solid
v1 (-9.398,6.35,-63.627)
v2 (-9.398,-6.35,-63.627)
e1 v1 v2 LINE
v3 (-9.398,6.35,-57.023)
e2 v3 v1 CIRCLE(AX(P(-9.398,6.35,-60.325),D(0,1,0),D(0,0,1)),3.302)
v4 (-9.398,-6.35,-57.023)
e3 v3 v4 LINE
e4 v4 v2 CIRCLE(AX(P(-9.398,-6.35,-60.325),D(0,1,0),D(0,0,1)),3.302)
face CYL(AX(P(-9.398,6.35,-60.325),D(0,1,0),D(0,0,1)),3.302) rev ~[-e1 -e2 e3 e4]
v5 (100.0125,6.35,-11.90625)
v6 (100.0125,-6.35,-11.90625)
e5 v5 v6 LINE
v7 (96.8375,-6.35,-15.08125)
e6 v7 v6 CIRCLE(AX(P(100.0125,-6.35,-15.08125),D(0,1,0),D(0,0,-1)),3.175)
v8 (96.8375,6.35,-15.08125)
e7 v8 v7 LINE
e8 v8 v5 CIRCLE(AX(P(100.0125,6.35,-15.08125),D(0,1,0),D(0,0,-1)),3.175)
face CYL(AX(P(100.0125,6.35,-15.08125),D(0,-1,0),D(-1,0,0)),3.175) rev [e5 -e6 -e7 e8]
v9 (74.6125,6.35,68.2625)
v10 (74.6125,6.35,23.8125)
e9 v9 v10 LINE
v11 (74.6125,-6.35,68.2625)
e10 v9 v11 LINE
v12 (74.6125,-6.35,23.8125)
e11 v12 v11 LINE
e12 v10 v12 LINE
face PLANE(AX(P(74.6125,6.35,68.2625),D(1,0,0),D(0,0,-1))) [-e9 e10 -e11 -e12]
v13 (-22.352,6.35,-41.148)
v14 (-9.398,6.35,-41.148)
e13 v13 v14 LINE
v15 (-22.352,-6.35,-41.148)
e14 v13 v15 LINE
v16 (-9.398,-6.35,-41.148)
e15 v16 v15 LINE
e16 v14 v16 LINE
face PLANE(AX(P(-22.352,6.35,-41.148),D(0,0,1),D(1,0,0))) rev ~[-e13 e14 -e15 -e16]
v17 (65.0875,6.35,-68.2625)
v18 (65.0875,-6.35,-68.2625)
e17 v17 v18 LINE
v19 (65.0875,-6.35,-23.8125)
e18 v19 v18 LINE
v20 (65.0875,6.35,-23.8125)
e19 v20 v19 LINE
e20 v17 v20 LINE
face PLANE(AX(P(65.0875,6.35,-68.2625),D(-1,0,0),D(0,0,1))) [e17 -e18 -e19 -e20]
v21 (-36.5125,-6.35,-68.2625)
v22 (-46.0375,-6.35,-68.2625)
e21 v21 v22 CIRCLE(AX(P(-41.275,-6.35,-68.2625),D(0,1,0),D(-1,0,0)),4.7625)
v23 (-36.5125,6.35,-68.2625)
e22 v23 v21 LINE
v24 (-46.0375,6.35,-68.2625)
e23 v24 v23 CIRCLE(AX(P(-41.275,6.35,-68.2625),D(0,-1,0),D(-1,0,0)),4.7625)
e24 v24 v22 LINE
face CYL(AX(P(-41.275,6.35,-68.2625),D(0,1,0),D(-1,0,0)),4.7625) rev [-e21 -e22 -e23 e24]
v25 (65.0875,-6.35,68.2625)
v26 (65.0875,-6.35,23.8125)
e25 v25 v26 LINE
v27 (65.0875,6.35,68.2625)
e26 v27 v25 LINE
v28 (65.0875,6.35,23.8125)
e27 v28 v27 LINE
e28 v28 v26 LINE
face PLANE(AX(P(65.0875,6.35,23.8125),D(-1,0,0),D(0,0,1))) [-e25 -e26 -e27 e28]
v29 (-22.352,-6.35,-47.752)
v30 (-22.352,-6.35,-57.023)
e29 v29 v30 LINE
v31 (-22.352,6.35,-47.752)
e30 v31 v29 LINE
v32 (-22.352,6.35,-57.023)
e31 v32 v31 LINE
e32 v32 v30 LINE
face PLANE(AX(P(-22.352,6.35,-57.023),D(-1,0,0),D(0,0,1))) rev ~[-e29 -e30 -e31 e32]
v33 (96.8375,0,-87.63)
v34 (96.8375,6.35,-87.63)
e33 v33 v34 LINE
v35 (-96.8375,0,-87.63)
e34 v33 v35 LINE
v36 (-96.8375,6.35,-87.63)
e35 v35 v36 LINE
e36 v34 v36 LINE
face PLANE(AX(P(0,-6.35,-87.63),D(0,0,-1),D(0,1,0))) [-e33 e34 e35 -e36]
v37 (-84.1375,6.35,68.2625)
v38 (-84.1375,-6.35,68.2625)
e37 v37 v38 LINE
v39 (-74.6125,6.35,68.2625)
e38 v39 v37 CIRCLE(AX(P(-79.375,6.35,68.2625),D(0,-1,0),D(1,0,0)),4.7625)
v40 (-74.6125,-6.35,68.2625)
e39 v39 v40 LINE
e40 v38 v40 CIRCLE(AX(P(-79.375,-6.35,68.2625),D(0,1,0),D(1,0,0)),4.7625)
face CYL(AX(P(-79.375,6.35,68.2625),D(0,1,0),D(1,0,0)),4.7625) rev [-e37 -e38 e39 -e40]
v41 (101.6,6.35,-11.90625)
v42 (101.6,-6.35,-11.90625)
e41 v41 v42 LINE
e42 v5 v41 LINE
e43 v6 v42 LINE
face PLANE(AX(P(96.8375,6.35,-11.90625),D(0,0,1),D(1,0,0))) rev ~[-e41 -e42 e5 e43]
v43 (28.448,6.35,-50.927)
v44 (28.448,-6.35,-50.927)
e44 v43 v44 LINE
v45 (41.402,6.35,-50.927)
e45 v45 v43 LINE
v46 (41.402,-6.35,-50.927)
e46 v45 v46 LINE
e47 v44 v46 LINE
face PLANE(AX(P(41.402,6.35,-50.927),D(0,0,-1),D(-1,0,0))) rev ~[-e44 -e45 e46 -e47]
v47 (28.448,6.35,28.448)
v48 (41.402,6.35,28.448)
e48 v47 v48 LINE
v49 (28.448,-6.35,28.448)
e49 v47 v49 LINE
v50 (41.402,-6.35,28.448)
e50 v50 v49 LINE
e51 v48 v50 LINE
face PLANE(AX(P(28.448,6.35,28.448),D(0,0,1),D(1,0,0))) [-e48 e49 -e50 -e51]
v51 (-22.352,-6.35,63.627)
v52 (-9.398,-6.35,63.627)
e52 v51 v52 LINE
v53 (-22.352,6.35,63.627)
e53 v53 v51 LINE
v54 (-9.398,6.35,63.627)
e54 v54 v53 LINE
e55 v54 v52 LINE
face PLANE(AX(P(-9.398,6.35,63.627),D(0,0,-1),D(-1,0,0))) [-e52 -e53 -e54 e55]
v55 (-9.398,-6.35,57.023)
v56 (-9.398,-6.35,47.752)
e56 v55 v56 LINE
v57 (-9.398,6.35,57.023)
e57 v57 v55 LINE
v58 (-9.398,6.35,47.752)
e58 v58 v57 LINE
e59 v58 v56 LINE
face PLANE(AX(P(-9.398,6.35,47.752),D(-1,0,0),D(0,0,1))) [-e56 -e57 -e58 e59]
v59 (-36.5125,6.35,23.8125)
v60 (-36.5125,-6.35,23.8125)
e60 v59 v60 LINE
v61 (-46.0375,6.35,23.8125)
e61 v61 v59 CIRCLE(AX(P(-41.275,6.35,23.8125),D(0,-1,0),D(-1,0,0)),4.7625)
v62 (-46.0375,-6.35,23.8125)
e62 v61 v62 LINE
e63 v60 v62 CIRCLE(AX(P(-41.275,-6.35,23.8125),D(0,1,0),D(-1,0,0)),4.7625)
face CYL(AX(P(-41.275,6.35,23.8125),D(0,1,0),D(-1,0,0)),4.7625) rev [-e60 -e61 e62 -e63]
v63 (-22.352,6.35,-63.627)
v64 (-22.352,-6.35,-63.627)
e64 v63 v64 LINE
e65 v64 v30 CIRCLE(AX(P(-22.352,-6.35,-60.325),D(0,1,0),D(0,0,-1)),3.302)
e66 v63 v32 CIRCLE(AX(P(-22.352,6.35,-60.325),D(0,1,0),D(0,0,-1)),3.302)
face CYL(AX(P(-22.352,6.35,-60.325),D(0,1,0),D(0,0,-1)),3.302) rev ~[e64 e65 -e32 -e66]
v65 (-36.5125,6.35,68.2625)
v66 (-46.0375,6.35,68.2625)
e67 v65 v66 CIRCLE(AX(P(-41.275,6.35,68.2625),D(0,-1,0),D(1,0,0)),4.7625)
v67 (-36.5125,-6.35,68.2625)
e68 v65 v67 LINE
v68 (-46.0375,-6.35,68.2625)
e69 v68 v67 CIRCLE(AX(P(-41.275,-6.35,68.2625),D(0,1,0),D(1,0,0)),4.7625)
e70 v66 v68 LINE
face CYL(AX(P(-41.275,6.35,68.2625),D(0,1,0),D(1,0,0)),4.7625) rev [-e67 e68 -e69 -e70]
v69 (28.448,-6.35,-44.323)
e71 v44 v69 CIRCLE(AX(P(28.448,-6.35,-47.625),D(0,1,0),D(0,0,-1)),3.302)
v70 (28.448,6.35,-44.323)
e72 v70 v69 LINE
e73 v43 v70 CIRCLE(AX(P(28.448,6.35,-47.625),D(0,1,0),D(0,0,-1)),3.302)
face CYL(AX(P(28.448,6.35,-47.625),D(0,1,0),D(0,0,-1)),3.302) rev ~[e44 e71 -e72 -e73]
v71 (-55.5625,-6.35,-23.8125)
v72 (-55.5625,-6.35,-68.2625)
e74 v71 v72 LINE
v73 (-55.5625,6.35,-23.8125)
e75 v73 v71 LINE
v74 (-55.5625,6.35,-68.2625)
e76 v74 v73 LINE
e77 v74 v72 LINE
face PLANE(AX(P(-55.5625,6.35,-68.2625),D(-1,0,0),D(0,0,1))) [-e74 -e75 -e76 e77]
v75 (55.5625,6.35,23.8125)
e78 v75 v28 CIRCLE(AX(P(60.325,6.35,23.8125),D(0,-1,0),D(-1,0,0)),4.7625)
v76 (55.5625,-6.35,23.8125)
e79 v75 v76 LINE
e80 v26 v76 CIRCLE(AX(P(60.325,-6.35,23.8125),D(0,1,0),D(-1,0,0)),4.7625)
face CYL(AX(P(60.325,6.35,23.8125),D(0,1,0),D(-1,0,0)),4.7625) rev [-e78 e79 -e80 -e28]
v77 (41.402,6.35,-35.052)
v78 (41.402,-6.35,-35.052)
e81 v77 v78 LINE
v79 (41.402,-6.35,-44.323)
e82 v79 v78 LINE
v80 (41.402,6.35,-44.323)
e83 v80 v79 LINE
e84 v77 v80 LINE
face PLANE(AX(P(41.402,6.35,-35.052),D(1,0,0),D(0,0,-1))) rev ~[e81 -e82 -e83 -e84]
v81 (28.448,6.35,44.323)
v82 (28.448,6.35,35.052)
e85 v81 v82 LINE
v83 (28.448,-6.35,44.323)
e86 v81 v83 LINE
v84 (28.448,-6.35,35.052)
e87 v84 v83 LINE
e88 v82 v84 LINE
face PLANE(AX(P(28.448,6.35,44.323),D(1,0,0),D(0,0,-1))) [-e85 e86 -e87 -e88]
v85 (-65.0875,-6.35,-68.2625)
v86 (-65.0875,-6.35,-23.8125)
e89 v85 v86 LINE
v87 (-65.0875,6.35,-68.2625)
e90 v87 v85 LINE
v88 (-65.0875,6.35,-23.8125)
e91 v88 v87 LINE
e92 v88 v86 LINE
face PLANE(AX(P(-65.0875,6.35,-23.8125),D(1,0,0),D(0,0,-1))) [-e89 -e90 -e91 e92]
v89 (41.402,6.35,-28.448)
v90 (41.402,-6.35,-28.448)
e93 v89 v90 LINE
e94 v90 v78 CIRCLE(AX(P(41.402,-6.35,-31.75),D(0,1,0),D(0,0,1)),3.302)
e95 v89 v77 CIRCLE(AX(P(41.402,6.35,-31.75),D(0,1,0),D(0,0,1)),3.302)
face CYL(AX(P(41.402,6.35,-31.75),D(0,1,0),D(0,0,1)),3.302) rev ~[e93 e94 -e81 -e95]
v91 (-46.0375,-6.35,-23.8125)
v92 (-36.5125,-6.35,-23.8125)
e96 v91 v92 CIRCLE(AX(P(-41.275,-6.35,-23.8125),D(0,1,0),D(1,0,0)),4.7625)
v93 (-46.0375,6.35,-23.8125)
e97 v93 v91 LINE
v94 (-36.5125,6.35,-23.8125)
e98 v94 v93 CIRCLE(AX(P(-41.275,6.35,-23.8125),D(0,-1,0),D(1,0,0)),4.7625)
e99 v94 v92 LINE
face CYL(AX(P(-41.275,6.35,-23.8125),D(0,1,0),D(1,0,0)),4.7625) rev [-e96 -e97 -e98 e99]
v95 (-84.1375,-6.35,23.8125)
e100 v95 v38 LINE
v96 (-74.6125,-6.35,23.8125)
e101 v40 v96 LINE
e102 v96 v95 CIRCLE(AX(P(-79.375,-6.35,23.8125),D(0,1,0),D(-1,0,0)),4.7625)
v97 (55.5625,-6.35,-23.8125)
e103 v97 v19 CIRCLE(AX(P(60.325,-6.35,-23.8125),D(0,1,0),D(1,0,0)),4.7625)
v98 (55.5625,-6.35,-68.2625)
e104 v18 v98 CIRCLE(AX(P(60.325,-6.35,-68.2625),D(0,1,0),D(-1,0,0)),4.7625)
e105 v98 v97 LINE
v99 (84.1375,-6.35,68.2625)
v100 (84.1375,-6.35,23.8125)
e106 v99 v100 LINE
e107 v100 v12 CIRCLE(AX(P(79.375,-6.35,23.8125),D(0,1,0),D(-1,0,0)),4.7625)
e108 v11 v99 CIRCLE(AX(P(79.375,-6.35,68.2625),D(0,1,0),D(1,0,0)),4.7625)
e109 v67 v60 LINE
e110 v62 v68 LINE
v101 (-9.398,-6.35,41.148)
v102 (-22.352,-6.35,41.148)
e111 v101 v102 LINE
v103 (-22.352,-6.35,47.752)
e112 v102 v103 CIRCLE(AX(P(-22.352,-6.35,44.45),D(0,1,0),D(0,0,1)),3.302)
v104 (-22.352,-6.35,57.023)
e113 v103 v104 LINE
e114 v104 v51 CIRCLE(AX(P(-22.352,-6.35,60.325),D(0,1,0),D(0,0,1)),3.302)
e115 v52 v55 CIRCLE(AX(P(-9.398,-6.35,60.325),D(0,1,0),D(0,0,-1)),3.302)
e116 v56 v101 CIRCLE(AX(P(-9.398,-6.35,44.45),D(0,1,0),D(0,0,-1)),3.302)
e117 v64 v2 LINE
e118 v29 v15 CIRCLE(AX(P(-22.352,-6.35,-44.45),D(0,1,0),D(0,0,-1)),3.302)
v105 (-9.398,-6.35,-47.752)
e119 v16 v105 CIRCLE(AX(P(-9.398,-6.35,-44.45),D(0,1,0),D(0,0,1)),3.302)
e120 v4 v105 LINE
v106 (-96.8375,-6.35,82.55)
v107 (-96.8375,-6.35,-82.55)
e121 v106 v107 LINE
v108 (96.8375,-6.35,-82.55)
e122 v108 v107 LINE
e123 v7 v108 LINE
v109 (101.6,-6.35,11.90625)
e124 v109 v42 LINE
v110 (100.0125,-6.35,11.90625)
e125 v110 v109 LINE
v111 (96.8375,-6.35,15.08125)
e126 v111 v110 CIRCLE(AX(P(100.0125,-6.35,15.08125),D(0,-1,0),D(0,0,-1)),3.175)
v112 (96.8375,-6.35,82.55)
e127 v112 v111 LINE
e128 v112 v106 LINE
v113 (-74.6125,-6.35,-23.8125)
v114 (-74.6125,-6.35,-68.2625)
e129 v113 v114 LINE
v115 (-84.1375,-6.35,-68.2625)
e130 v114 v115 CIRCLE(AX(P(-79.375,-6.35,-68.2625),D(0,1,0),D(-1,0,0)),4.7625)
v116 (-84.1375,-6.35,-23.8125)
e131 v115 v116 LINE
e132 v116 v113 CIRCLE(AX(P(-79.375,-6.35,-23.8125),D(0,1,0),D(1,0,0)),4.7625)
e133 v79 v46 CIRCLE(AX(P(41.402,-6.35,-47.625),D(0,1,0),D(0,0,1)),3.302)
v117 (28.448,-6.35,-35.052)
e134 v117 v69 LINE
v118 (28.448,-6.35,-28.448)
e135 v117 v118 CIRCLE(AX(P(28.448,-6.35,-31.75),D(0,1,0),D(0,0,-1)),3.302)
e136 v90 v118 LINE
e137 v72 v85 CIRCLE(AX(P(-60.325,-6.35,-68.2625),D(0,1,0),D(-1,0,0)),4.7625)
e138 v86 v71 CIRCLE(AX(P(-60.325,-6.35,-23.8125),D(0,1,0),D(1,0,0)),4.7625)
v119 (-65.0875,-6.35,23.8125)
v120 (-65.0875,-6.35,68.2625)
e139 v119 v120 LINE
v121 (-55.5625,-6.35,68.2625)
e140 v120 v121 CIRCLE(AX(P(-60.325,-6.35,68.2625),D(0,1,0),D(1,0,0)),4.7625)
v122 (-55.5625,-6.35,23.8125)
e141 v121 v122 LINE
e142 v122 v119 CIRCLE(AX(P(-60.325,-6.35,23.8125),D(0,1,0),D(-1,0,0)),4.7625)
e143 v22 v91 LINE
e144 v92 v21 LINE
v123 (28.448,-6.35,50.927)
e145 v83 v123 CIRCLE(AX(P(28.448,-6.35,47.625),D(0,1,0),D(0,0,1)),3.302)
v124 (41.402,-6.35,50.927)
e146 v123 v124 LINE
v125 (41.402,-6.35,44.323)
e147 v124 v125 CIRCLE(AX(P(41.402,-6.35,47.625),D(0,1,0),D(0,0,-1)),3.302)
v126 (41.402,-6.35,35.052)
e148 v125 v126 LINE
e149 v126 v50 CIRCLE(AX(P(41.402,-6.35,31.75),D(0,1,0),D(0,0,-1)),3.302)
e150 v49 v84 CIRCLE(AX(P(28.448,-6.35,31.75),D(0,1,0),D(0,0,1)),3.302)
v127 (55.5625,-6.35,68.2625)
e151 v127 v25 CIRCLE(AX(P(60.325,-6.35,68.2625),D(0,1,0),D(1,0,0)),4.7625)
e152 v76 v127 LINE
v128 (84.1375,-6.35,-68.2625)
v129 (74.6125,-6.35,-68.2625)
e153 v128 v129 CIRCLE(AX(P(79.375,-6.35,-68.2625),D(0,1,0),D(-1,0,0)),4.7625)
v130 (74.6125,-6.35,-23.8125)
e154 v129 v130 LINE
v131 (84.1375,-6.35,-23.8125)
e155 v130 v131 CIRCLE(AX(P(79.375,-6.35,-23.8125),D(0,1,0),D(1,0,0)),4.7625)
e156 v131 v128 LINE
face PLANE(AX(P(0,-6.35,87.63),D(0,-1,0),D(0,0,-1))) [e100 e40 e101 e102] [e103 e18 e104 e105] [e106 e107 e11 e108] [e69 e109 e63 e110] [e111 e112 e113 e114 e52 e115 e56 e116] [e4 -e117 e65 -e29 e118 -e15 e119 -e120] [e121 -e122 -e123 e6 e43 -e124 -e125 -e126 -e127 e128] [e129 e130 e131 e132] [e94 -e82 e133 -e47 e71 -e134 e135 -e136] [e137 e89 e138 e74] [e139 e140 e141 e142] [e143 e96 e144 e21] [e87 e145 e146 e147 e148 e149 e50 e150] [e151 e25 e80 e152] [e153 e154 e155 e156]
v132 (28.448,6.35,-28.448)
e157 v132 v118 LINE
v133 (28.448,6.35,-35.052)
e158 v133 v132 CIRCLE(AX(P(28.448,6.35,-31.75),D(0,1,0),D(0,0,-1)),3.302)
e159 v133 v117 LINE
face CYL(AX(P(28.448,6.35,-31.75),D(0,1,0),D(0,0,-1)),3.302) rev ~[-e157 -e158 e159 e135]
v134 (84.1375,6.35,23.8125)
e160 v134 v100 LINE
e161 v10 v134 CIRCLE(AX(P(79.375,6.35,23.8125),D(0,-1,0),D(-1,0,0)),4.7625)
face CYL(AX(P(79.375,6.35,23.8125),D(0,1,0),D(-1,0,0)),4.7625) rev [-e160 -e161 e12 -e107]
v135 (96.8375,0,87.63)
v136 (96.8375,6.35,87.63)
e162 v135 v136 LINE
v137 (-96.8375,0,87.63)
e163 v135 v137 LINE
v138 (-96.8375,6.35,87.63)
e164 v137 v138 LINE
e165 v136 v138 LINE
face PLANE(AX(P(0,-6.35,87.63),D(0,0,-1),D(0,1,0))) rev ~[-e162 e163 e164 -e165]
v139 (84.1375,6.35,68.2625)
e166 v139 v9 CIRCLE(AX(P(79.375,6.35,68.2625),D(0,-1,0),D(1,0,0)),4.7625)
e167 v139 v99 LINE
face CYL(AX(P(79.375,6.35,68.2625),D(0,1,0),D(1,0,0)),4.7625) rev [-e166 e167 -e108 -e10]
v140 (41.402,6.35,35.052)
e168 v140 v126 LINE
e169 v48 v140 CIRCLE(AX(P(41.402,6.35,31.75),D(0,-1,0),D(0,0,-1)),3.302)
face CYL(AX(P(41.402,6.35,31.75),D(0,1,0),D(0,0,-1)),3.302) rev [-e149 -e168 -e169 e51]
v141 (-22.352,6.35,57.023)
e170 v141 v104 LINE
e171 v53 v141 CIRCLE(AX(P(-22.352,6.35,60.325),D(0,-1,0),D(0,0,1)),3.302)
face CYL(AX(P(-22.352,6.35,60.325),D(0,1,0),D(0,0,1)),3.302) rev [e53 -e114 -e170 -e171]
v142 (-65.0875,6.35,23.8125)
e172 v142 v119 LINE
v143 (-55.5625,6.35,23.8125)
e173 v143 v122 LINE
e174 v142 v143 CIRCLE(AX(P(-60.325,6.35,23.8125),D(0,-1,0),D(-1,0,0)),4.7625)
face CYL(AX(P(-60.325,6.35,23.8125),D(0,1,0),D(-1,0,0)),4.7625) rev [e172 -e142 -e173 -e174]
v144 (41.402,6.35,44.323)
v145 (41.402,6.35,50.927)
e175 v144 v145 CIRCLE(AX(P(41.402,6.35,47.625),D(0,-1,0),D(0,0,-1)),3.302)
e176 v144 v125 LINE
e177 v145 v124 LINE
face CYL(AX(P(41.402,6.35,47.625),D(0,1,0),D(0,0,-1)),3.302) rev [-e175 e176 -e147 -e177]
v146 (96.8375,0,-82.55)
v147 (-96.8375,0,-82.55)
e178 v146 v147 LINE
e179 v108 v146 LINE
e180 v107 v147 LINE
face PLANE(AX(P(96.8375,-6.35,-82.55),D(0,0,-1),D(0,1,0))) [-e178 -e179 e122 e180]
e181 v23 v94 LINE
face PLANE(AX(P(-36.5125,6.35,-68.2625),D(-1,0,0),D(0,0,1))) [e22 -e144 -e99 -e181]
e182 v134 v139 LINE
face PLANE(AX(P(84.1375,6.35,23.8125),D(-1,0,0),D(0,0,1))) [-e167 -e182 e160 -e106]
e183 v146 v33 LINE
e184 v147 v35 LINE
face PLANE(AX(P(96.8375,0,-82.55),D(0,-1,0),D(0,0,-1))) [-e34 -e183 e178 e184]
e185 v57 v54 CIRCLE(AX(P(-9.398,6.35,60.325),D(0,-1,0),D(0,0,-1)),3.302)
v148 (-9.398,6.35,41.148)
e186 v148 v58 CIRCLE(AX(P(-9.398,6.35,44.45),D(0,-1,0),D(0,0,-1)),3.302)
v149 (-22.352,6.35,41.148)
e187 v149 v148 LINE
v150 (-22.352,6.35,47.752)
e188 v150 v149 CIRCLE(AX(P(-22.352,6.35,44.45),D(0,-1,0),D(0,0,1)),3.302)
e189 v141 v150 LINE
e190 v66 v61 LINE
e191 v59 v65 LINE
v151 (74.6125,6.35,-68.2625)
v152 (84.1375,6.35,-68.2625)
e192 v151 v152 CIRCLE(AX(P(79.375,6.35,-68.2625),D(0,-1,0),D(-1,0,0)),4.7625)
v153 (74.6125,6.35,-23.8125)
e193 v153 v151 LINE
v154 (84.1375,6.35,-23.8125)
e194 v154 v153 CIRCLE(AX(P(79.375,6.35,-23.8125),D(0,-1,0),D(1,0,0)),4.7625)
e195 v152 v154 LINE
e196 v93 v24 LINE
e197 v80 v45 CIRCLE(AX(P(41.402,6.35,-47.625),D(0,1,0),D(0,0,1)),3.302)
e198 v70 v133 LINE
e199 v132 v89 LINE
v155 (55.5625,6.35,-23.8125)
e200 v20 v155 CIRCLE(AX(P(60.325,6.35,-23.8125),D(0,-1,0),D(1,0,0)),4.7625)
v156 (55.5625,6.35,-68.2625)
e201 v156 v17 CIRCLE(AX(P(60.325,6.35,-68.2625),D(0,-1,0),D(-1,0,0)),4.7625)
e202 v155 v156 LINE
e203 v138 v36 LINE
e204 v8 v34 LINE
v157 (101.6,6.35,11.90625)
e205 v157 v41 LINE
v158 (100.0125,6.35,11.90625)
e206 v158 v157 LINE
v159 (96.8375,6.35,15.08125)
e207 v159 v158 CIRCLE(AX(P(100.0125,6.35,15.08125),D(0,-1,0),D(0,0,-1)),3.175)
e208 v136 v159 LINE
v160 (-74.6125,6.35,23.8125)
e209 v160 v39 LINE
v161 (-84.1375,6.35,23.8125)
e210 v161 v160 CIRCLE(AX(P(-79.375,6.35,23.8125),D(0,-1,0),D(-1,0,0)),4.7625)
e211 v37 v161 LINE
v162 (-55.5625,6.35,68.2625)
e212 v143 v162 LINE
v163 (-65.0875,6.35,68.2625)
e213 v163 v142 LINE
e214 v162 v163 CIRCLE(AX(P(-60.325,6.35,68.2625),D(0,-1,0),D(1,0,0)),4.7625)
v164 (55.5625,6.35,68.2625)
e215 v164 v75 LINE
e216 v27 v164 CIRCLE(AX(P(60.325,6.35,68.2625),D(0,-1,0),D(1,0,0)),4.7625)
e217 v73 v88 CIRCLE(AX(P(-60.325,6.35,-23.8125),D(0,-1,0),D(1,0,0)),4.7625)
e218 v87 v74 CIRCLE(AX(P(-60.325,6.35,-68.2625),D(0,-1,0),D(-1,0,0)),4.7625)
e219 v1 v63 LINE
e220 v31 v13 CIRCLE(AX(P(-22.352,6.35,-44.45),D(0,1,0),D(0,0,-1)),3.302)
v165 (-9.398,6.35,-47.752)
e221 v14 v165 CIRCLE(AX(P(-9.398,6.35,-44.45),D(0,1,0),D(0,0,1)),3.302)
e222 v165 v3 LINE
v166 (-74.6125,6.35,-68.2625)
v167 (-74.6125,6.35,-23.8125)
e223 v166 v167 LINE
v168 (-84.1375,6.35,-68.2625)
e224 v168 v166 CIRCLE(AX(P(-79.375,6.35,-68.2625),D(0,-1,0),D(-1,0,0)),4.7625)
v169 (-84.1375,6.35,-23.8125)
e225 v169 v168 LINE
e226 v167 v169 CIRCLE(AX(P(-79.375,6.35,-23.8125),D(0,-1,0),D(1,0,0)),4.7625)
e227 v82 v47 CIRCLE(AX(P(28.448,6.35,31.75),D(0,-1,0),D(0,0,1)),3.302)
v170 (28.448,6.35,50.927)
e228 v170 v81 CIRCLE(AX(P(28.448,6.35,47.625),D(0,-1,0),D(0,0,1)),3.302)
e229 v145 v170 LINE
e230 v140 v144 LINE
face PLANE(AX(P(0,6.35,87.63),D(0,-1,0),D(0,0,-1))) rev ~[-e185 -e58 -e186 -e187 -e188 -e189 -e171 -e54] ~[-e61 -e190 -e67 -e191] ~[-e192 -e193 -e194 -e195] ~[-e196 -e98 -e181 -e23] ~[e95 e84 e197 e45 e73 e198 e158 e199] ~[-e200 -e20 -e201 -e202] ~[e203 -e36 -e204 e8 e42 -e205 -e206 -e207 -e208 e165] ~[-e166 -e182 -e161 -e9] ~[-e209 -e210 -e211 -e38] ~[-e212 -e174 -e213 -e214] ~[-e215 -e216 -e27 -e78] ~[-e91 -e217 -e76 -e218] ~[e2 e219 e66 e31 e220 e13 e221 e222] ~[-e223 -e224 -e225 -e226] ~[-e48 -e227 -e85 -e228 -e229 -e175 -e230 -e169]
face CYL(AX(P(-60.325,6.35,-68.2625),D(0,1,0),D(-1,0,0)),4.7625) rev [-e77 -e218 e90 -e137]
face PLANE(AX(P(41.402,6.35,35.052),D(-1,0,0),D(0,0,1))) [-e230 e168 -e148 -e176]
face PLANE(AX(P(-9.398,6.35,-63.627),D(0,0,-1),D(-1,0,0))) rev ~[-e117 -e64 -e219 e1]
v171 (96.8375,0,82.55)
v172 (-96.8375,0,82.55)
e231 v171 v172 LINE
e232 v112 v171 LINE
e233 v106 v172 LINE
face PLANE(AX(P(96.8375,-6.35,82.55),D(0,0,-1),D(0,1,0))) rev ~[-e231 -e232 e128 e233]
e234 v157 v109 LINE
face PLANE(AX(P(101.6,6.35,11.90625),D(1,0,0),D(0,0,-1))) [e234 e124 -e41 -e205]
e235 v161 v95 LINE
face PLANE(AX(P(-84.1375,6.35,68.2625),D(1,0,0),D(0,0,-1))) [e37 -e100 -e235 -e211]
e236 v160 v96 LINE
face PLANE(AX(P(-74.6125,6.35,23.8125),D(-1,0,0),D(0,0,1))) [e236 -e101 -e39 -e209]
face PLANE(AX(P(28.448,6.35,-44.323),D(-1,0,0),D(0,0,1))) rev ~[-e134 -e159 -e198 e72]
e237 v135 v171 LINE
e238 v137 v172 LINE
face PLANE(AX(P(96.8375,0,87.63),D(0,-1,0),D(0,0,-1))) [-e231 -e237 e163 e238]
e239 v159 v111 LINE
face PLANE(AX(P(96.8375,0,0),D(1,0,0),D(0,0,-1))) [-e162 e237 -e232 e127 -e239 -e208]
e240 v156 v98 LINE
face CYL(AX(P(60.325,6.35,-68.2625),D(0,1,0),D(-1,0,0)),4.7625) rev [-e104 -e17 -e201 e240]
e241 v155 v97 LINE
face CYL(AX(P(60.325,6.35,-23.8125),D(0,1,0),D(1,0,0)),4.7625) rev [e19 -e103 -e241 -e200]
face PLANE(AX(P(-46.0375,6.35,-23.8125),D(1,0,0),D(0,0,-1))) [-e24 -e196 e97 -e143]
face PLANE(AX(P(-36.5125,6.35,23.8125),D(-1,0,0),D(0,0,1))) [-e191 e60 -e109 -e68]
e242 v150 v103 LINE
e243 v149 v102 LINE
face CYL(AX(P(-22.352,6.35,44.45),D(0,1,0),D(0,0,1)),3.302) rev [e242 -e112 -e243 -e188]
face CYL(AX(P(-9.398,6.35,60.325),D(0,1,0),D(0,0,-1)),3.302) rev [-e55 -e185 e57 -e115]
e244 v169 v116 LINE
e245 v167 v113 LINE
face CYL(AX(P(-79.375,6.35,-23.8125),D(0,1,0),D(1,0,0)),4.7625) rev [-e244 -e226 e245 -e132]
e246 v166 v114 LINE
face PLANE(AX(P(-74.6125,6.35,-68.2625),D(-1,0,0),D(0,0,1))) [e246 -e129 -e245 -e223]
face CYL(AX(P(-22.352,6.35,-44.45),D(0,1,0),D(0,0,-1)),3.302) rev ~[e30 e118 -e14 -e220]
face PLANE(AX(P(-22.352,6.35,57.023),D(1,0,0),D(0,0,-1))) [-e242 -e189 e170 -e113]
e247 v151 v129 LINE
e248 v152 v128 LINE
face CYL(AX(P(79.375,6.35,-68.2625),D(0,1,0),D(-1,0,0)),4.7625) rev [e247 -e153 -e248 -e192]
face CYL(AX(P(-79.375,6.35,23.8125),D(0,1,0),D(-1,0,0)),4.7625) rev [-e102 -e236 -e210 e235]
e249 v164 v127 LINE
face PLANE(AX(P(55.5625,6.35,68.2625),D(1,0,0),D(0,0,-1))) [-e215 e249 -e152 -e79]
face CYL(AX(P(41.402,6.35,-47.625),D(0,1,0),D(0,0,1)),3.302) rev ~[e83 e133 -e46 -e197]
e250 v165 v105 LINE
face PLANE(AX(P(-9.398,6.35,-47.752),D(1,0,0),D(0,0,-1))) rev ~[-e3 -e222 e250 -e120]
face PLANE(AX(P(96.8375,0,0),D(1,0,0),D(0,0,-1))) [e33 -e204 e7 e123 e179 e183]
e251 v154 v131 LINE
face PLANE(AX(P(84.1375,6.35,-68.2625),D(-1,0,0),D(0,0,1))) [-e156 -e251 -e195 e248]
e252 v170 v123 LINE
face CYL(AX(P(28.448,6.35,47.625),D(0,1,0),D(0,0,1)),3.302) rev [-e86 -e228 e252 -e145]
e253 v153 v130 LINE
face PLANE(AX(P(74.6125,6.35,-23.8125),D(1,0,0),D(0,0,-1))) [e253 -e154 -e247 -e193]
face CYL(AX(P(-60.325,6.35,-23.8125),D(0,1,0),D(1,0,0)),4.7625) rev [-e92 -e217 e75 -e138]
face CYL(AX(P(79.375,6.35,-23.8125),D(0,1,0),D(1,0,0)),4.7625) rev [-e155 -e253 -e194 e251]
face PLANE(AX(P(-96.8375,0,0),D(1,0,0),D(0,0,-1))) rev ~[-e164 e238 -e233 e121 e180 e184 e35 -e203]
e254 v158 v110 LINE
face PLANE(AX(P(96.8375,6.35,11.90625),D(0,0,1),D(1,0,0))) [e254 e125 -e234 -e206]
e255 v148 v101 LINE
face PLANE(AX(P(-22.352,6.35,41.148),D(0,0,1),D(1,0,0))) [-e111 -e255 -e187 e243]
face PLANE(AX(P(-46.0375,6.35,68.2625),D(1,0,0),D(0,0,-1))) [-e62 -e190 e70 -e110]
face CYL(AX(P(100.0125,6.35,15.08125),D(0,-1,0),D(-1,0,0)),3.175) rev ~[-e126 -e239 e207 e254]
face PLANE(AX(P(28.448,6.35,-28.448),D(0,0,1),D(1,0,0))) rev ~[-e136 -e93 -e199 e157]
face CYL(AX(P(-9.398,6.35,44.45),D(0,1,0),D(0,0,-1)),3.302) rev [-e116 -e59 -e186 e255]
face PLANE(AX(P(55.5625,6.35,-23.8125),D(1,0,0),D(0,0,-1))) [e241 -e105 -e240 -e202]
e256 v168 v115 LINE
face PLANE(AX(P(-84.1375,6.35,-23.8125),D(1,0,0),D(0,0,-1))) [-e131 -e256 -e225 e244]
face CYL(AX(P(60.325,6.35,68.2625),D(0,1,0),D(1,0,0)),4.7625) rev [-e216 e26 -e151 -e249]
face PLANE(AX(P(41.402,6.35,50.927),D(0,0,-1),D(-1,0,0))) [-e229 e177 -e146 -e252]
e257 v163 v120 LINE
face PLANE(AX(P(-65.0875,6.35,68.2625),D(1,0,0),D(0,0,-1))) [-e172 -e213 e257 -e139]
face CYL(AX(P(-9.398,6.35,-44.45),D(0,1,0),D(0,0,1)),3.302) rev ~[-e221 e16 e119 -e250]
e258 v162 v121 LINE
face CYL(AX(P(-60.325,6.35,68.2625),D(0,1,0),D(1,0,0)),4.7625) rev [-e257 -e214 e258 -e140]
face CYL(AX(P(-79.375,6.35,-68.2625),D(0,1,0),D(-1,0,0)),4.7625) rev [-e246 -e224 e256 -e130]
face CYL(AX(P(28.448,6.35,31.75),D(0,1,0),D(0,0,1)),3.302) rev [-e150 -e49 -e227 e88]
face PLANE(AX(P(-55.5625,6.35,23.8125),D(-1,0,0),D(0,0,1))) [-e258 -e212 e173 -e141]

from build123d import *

# Parameters (mm, degrees)
SKETCH1_W           = 175.26
SKETCH1_H           = 12.7
BOSS_EXTRUDE1_DEPTH = 96.8375
SKETCH2_W           = 5.08
SKETCH2_H           = 6.35
CUT_EXTRUDE1_DEPTH  = 213.67191875
CUT_EXTRUDE2_DEPTH  = 132.216646453
CUT_EXTRUDE3_DEPTH  = 132.216646453
SKETCH5_W           = 4.7625
SKETCH5_H           = 23.8125
BOSS_EXTRUDE2_DEPTH = 12.7
FILLET1_R           = 3.175


with BuildPart() as part:
    # Sketch1 → Boss-Extrude1 (new, symmetric)
    with BuildSketch(Plane(origin=(0, 0, 0), x_dir=(0, 0, -1), z_dir=(1, 0, 0))):
        Rectangle(SKETCH1_W, SKETCH1_H)
    extrude(amount=BOSS_EXTRUDE1_DEPTH, both=True)

    # Sketch2 → Cut-Extrude1 (cut, through all)
    with BuildSketch(Plane(origin=(96.8375, 0, 0), x_dir=(0, 0, -1), z_dir=(1, 0, 0))):
        with Locations((-85.09, -3.175)):
            Rectangle(SKETCH2_W, SKETCH2_H)
        with Locations((85.09, -3.175)):
            Rectangle(SKETCH2_W, SKETCH2_H)
    extrude(amount=-CUT_EXTRUDE1_DEPTH, mode=Mode.SUBTRACT)

    # Sketch3 → Cut-Extrude2 (cut, through all)
    with BuildSketch(Plane(origin=(0, 6.35, 0), x_dir=(1, 0, 0), z_dir=(0, 1, 0))):
        with BuildLine():
            Line((28.448, -28.448), (41.402, -28.448))
            ThreePointArc((41.402, -28.448), (44.704, -31.75), (41.402, -35.052))
            Line((41.402, -35.052), (41.402, -44.323))
            ThreePointArc((41.402, -44.323), (44.704, -47.625), (41.402, -50.927))
            Line((41.402, -50.927), (28.448, -50.927))
            ThreePointArc((28.448, -50.927), (25.146, -47.625), (28.448, -44.323))
            Line((28.448, -44.323), (28.448, -35.052))
            ThreePointArc((28.448, -35.052), (25.146, -31.75), (28.448, -28.448))
        make_face()
        with BuildLine():
            Line((-22.352, -41.148), (-9.398, -41.148))
            ThreePointArc((-9.398, -41.148), (-6.096, -44.45), (-9.398, -47.752))
            Line((-9.398, -47.752), (-9.398, -57.023))
            ThreePointArc((-9.398, -57.023), (-6.096, -60.325), (-9.398, -63.627))
            Line((-9.398, -63.627), (-22.352, -63.627))
            ThreePointArc((-22.352, -63.627), (-25.654, -60.325), (-22.352, -57.023))
            Line((-22.352, -57.023), (-22.352, -47.752))
            ThreePointArc((-22.352, -47.752), (-25.654, -44.45), (-22.352, -41.148))
        make_face()
        with BuildLine():
            Line((-9.398, 47.752), (-9.398, 57.023))
            ThreePointArc((-9.398, 57.023), (-6.096, 60.325), (-9.398, 63.627))
            Line((-9.398, 63.627), (-22.352, 63.627))
            ThreePointArc((-22.352, 63.627), (-25.654, 60.325), (-22.352, 57.023))
            Line((-22.352, 57.023), (-22.352, 47.752))
            ThreePointArc((-22.352, 47.752), (-25.654, 44.45), (-22.352, 41.148))
            Line((-22.352, 41.148), (-9.398, 41.148))
            ThreePointArc((-9.398, 41.148), (-6.096, 44.45), (-9.398, 47.752))
        make_face()
        with BuildLine():
            Line((41.402, 35.052), (41.402, 44.323))
            ThreePointArc((41.402, 44.323), (44.704, 47.625), (41.402, 50.927))
            Line((41.402, 50.927), (28.448, 50.927))
            ThreePointArc((28.448, 50.927), (25.146, 47.625), (28.448, 44.323))
            Line((28.448, 44.323), (28.448, 35.052))
            ThreePointArc((28.448, 35.052), (25.146, 31.75), (28.448, 28.448))
            Line((28.448, 28.448), (41.402, 28.448))
            ThreePointArc((41.402, 28.448), (44.704, 31.75), (41.402, 35.052))
        make_face()
    extrude(amount=-CUT_EXTRUDE2_DEPTH, mode=Mode.SUBTRACT)

    # Sketch4 → Cut-Extrude3 (cut, through all)
    with BuildSketch(Plane(origin=(0, 6.35, 0), x_dir=(1, 0, 0), z_dir=(0, 1, 0))):
        with BuildLine():
            Line((55.5625, -68.2625), (55.5625, -23.8125))
            ThreePointArc((55.5625, -23.8125), (60.325, -19.05), (65.0875, -23.8125))
            Line((65.0875, -23.8125), (65.0875, -68.2625))
            ThreePointArc((65.0875, -68.2625), (60.325, -73.025), (55.5625, -68.2625))
        make_face()
        with BuildLine():
            Line((55.5625, 23.8125), (55.5625, 68.2625))
            ThreePointArc((55.5625, 68.2625), (60.325, 73.025), (65.0875, 68.2625))
            Line((65.0875, 68.2625), (65.0875, 23.8125))
            ThreePointArc((65.0875, 23.8125), (60.325, 19.05), (55.5625, 23.8125))
        make_face()
        with BuildLine():
            Line((84.1375, 68.2625), (84.1375, 23.8125))
            ThreePointArc((84.1375, 23.8125), (79.375, 19.05), (74.6125, 23.8125))
            Line((74.6125, 23.8125), (74.6125, 68.2625))
            ThreePointArc((74.6125, 68.2625), (79.375, 73.025), (84.1375, 68.2625))
        make_face()
        with BuildLine():
            Line((84.1375, -23.8125), (84.1375, -68.2625))
            ThreePointArc((84.1375, -68.2625), (79.375, -73.025), (74.6125, -68.2625))
            Line((74.6125, -68.2625), (74.6125, -23.8125))
            ThreePointArc((74.6125, -23.8125), (79.375, -19.05), (84.1375, -23.8125))
        make_face()
        with BuildLine():
            Line((-84.1375, -68.2625), (-84.1375, -23.8125))
            ThreePointArc((-84.1375, -23.8125), (-79.375, -19.05), (-74.6125, -23.8125))
            Line((-74.6125, -23.8125), (-74.6125, -68.2625))
            ThreePointArc((-74.6125, -68.2625), (-79.375, -73.025), (-84.1375, -68.2625))
        make_face()
        with BuildLine():
            Line((-84.1375, 23.8125), (-84.1375, 68.2625))
            ThreePointArc((-84.1375, 68.2625), (-79.375, 73.025), (-74.6125, 68.2625))
            Line((-74.6125, 68.2625), (-74.6125, 23.8125))
            ThreePointArc((-74.6125, 23.8125), (-79.375, 19.05), (-84.1375, 23.8125))
        make_face()
        with BuildLine():
            Line((-65.0875, -68.2625), (-65.0875, -23.8125))
            ThreePointArc((-65.0875, -23.8125), (-60.325, -19.05), (-55.5625, -23.8125))
            Line((-55.5625, -23.8125), (-55.5625, -68.2625))
            ThreePointArc((-55.5625, -68.2625), (-60.325, -73.025), (-65.0875, -68.2625))
        make_face()
        with BuildLine():
            Line((-65.0875, 23.8125), (-65.0875, 68.2625))
            ThreePointArc((-65.0875, 68.2625), (-60.325, 73.025), (-55.5625, 68.2625))
            Line((-55.5625, 68.2625), (-55.5625, 23.8125))
            ThreePointArc((-55.5625, 23.8125), (-60.325, 19.05), (-65.0875, 23.8125))
        make_face()
        with BuildLine():
            Line((-46.0375, -68.2625), (-46.0375, -23.8125))
            ThreePointArc((-46.0375, -23.8125), (-41.275, -19.05), (-36.5125, -23.8125))
            Line((-36.5125, -23.8125), (-36.5125, -68.2625))
            ThreePointArc((-36.5125, -68.2625), (-41.275, -73.025), (-46.0375, -68.2625))
        make_face()
        with BuildLine():
            Line((-46.0375, 23.8125), (-46.0375, 68.2625))
            ThreePointArc((-46.0375, 68.2625), (-41.275, 73.025), (-36.5125, 68.2625))
            Line((-36.5125, 68.2625), (-36.5125, 23.8125))
            ThreePointArc((-36.5125, 23.8125), (-41.275, 19.05), (-46.0375, 23.8125))
        make_face()
    extrude(amount=-CUT_EXTRUDE3_DEPTH, mode=Mode.SUBTRACT)

    # Sketch5 → Boss-Extrude2 (add)
    with BuildSketch(Plane(origin=(0, 6.35, 0), x_dir=(1, 0, 0), z_dir=(0, 1, 0))):
        with Locations((99.21875, 0)):
            Rectangle(SKETCH5_W, SKETCH5_H)
    extrude(amount=-BOSS_EXTRUDE2_DEPTH)

    # Fillet1
    fillet1_edges = [part.edges().sort_by_distance(p)[0] for p in [
        (96.8375, 0, 11.90625),
        (96.8375, 0, -11.90625),
    ]]
    fillet(fillet1_edges, radius=FILLET1_R)


solid = part.part
